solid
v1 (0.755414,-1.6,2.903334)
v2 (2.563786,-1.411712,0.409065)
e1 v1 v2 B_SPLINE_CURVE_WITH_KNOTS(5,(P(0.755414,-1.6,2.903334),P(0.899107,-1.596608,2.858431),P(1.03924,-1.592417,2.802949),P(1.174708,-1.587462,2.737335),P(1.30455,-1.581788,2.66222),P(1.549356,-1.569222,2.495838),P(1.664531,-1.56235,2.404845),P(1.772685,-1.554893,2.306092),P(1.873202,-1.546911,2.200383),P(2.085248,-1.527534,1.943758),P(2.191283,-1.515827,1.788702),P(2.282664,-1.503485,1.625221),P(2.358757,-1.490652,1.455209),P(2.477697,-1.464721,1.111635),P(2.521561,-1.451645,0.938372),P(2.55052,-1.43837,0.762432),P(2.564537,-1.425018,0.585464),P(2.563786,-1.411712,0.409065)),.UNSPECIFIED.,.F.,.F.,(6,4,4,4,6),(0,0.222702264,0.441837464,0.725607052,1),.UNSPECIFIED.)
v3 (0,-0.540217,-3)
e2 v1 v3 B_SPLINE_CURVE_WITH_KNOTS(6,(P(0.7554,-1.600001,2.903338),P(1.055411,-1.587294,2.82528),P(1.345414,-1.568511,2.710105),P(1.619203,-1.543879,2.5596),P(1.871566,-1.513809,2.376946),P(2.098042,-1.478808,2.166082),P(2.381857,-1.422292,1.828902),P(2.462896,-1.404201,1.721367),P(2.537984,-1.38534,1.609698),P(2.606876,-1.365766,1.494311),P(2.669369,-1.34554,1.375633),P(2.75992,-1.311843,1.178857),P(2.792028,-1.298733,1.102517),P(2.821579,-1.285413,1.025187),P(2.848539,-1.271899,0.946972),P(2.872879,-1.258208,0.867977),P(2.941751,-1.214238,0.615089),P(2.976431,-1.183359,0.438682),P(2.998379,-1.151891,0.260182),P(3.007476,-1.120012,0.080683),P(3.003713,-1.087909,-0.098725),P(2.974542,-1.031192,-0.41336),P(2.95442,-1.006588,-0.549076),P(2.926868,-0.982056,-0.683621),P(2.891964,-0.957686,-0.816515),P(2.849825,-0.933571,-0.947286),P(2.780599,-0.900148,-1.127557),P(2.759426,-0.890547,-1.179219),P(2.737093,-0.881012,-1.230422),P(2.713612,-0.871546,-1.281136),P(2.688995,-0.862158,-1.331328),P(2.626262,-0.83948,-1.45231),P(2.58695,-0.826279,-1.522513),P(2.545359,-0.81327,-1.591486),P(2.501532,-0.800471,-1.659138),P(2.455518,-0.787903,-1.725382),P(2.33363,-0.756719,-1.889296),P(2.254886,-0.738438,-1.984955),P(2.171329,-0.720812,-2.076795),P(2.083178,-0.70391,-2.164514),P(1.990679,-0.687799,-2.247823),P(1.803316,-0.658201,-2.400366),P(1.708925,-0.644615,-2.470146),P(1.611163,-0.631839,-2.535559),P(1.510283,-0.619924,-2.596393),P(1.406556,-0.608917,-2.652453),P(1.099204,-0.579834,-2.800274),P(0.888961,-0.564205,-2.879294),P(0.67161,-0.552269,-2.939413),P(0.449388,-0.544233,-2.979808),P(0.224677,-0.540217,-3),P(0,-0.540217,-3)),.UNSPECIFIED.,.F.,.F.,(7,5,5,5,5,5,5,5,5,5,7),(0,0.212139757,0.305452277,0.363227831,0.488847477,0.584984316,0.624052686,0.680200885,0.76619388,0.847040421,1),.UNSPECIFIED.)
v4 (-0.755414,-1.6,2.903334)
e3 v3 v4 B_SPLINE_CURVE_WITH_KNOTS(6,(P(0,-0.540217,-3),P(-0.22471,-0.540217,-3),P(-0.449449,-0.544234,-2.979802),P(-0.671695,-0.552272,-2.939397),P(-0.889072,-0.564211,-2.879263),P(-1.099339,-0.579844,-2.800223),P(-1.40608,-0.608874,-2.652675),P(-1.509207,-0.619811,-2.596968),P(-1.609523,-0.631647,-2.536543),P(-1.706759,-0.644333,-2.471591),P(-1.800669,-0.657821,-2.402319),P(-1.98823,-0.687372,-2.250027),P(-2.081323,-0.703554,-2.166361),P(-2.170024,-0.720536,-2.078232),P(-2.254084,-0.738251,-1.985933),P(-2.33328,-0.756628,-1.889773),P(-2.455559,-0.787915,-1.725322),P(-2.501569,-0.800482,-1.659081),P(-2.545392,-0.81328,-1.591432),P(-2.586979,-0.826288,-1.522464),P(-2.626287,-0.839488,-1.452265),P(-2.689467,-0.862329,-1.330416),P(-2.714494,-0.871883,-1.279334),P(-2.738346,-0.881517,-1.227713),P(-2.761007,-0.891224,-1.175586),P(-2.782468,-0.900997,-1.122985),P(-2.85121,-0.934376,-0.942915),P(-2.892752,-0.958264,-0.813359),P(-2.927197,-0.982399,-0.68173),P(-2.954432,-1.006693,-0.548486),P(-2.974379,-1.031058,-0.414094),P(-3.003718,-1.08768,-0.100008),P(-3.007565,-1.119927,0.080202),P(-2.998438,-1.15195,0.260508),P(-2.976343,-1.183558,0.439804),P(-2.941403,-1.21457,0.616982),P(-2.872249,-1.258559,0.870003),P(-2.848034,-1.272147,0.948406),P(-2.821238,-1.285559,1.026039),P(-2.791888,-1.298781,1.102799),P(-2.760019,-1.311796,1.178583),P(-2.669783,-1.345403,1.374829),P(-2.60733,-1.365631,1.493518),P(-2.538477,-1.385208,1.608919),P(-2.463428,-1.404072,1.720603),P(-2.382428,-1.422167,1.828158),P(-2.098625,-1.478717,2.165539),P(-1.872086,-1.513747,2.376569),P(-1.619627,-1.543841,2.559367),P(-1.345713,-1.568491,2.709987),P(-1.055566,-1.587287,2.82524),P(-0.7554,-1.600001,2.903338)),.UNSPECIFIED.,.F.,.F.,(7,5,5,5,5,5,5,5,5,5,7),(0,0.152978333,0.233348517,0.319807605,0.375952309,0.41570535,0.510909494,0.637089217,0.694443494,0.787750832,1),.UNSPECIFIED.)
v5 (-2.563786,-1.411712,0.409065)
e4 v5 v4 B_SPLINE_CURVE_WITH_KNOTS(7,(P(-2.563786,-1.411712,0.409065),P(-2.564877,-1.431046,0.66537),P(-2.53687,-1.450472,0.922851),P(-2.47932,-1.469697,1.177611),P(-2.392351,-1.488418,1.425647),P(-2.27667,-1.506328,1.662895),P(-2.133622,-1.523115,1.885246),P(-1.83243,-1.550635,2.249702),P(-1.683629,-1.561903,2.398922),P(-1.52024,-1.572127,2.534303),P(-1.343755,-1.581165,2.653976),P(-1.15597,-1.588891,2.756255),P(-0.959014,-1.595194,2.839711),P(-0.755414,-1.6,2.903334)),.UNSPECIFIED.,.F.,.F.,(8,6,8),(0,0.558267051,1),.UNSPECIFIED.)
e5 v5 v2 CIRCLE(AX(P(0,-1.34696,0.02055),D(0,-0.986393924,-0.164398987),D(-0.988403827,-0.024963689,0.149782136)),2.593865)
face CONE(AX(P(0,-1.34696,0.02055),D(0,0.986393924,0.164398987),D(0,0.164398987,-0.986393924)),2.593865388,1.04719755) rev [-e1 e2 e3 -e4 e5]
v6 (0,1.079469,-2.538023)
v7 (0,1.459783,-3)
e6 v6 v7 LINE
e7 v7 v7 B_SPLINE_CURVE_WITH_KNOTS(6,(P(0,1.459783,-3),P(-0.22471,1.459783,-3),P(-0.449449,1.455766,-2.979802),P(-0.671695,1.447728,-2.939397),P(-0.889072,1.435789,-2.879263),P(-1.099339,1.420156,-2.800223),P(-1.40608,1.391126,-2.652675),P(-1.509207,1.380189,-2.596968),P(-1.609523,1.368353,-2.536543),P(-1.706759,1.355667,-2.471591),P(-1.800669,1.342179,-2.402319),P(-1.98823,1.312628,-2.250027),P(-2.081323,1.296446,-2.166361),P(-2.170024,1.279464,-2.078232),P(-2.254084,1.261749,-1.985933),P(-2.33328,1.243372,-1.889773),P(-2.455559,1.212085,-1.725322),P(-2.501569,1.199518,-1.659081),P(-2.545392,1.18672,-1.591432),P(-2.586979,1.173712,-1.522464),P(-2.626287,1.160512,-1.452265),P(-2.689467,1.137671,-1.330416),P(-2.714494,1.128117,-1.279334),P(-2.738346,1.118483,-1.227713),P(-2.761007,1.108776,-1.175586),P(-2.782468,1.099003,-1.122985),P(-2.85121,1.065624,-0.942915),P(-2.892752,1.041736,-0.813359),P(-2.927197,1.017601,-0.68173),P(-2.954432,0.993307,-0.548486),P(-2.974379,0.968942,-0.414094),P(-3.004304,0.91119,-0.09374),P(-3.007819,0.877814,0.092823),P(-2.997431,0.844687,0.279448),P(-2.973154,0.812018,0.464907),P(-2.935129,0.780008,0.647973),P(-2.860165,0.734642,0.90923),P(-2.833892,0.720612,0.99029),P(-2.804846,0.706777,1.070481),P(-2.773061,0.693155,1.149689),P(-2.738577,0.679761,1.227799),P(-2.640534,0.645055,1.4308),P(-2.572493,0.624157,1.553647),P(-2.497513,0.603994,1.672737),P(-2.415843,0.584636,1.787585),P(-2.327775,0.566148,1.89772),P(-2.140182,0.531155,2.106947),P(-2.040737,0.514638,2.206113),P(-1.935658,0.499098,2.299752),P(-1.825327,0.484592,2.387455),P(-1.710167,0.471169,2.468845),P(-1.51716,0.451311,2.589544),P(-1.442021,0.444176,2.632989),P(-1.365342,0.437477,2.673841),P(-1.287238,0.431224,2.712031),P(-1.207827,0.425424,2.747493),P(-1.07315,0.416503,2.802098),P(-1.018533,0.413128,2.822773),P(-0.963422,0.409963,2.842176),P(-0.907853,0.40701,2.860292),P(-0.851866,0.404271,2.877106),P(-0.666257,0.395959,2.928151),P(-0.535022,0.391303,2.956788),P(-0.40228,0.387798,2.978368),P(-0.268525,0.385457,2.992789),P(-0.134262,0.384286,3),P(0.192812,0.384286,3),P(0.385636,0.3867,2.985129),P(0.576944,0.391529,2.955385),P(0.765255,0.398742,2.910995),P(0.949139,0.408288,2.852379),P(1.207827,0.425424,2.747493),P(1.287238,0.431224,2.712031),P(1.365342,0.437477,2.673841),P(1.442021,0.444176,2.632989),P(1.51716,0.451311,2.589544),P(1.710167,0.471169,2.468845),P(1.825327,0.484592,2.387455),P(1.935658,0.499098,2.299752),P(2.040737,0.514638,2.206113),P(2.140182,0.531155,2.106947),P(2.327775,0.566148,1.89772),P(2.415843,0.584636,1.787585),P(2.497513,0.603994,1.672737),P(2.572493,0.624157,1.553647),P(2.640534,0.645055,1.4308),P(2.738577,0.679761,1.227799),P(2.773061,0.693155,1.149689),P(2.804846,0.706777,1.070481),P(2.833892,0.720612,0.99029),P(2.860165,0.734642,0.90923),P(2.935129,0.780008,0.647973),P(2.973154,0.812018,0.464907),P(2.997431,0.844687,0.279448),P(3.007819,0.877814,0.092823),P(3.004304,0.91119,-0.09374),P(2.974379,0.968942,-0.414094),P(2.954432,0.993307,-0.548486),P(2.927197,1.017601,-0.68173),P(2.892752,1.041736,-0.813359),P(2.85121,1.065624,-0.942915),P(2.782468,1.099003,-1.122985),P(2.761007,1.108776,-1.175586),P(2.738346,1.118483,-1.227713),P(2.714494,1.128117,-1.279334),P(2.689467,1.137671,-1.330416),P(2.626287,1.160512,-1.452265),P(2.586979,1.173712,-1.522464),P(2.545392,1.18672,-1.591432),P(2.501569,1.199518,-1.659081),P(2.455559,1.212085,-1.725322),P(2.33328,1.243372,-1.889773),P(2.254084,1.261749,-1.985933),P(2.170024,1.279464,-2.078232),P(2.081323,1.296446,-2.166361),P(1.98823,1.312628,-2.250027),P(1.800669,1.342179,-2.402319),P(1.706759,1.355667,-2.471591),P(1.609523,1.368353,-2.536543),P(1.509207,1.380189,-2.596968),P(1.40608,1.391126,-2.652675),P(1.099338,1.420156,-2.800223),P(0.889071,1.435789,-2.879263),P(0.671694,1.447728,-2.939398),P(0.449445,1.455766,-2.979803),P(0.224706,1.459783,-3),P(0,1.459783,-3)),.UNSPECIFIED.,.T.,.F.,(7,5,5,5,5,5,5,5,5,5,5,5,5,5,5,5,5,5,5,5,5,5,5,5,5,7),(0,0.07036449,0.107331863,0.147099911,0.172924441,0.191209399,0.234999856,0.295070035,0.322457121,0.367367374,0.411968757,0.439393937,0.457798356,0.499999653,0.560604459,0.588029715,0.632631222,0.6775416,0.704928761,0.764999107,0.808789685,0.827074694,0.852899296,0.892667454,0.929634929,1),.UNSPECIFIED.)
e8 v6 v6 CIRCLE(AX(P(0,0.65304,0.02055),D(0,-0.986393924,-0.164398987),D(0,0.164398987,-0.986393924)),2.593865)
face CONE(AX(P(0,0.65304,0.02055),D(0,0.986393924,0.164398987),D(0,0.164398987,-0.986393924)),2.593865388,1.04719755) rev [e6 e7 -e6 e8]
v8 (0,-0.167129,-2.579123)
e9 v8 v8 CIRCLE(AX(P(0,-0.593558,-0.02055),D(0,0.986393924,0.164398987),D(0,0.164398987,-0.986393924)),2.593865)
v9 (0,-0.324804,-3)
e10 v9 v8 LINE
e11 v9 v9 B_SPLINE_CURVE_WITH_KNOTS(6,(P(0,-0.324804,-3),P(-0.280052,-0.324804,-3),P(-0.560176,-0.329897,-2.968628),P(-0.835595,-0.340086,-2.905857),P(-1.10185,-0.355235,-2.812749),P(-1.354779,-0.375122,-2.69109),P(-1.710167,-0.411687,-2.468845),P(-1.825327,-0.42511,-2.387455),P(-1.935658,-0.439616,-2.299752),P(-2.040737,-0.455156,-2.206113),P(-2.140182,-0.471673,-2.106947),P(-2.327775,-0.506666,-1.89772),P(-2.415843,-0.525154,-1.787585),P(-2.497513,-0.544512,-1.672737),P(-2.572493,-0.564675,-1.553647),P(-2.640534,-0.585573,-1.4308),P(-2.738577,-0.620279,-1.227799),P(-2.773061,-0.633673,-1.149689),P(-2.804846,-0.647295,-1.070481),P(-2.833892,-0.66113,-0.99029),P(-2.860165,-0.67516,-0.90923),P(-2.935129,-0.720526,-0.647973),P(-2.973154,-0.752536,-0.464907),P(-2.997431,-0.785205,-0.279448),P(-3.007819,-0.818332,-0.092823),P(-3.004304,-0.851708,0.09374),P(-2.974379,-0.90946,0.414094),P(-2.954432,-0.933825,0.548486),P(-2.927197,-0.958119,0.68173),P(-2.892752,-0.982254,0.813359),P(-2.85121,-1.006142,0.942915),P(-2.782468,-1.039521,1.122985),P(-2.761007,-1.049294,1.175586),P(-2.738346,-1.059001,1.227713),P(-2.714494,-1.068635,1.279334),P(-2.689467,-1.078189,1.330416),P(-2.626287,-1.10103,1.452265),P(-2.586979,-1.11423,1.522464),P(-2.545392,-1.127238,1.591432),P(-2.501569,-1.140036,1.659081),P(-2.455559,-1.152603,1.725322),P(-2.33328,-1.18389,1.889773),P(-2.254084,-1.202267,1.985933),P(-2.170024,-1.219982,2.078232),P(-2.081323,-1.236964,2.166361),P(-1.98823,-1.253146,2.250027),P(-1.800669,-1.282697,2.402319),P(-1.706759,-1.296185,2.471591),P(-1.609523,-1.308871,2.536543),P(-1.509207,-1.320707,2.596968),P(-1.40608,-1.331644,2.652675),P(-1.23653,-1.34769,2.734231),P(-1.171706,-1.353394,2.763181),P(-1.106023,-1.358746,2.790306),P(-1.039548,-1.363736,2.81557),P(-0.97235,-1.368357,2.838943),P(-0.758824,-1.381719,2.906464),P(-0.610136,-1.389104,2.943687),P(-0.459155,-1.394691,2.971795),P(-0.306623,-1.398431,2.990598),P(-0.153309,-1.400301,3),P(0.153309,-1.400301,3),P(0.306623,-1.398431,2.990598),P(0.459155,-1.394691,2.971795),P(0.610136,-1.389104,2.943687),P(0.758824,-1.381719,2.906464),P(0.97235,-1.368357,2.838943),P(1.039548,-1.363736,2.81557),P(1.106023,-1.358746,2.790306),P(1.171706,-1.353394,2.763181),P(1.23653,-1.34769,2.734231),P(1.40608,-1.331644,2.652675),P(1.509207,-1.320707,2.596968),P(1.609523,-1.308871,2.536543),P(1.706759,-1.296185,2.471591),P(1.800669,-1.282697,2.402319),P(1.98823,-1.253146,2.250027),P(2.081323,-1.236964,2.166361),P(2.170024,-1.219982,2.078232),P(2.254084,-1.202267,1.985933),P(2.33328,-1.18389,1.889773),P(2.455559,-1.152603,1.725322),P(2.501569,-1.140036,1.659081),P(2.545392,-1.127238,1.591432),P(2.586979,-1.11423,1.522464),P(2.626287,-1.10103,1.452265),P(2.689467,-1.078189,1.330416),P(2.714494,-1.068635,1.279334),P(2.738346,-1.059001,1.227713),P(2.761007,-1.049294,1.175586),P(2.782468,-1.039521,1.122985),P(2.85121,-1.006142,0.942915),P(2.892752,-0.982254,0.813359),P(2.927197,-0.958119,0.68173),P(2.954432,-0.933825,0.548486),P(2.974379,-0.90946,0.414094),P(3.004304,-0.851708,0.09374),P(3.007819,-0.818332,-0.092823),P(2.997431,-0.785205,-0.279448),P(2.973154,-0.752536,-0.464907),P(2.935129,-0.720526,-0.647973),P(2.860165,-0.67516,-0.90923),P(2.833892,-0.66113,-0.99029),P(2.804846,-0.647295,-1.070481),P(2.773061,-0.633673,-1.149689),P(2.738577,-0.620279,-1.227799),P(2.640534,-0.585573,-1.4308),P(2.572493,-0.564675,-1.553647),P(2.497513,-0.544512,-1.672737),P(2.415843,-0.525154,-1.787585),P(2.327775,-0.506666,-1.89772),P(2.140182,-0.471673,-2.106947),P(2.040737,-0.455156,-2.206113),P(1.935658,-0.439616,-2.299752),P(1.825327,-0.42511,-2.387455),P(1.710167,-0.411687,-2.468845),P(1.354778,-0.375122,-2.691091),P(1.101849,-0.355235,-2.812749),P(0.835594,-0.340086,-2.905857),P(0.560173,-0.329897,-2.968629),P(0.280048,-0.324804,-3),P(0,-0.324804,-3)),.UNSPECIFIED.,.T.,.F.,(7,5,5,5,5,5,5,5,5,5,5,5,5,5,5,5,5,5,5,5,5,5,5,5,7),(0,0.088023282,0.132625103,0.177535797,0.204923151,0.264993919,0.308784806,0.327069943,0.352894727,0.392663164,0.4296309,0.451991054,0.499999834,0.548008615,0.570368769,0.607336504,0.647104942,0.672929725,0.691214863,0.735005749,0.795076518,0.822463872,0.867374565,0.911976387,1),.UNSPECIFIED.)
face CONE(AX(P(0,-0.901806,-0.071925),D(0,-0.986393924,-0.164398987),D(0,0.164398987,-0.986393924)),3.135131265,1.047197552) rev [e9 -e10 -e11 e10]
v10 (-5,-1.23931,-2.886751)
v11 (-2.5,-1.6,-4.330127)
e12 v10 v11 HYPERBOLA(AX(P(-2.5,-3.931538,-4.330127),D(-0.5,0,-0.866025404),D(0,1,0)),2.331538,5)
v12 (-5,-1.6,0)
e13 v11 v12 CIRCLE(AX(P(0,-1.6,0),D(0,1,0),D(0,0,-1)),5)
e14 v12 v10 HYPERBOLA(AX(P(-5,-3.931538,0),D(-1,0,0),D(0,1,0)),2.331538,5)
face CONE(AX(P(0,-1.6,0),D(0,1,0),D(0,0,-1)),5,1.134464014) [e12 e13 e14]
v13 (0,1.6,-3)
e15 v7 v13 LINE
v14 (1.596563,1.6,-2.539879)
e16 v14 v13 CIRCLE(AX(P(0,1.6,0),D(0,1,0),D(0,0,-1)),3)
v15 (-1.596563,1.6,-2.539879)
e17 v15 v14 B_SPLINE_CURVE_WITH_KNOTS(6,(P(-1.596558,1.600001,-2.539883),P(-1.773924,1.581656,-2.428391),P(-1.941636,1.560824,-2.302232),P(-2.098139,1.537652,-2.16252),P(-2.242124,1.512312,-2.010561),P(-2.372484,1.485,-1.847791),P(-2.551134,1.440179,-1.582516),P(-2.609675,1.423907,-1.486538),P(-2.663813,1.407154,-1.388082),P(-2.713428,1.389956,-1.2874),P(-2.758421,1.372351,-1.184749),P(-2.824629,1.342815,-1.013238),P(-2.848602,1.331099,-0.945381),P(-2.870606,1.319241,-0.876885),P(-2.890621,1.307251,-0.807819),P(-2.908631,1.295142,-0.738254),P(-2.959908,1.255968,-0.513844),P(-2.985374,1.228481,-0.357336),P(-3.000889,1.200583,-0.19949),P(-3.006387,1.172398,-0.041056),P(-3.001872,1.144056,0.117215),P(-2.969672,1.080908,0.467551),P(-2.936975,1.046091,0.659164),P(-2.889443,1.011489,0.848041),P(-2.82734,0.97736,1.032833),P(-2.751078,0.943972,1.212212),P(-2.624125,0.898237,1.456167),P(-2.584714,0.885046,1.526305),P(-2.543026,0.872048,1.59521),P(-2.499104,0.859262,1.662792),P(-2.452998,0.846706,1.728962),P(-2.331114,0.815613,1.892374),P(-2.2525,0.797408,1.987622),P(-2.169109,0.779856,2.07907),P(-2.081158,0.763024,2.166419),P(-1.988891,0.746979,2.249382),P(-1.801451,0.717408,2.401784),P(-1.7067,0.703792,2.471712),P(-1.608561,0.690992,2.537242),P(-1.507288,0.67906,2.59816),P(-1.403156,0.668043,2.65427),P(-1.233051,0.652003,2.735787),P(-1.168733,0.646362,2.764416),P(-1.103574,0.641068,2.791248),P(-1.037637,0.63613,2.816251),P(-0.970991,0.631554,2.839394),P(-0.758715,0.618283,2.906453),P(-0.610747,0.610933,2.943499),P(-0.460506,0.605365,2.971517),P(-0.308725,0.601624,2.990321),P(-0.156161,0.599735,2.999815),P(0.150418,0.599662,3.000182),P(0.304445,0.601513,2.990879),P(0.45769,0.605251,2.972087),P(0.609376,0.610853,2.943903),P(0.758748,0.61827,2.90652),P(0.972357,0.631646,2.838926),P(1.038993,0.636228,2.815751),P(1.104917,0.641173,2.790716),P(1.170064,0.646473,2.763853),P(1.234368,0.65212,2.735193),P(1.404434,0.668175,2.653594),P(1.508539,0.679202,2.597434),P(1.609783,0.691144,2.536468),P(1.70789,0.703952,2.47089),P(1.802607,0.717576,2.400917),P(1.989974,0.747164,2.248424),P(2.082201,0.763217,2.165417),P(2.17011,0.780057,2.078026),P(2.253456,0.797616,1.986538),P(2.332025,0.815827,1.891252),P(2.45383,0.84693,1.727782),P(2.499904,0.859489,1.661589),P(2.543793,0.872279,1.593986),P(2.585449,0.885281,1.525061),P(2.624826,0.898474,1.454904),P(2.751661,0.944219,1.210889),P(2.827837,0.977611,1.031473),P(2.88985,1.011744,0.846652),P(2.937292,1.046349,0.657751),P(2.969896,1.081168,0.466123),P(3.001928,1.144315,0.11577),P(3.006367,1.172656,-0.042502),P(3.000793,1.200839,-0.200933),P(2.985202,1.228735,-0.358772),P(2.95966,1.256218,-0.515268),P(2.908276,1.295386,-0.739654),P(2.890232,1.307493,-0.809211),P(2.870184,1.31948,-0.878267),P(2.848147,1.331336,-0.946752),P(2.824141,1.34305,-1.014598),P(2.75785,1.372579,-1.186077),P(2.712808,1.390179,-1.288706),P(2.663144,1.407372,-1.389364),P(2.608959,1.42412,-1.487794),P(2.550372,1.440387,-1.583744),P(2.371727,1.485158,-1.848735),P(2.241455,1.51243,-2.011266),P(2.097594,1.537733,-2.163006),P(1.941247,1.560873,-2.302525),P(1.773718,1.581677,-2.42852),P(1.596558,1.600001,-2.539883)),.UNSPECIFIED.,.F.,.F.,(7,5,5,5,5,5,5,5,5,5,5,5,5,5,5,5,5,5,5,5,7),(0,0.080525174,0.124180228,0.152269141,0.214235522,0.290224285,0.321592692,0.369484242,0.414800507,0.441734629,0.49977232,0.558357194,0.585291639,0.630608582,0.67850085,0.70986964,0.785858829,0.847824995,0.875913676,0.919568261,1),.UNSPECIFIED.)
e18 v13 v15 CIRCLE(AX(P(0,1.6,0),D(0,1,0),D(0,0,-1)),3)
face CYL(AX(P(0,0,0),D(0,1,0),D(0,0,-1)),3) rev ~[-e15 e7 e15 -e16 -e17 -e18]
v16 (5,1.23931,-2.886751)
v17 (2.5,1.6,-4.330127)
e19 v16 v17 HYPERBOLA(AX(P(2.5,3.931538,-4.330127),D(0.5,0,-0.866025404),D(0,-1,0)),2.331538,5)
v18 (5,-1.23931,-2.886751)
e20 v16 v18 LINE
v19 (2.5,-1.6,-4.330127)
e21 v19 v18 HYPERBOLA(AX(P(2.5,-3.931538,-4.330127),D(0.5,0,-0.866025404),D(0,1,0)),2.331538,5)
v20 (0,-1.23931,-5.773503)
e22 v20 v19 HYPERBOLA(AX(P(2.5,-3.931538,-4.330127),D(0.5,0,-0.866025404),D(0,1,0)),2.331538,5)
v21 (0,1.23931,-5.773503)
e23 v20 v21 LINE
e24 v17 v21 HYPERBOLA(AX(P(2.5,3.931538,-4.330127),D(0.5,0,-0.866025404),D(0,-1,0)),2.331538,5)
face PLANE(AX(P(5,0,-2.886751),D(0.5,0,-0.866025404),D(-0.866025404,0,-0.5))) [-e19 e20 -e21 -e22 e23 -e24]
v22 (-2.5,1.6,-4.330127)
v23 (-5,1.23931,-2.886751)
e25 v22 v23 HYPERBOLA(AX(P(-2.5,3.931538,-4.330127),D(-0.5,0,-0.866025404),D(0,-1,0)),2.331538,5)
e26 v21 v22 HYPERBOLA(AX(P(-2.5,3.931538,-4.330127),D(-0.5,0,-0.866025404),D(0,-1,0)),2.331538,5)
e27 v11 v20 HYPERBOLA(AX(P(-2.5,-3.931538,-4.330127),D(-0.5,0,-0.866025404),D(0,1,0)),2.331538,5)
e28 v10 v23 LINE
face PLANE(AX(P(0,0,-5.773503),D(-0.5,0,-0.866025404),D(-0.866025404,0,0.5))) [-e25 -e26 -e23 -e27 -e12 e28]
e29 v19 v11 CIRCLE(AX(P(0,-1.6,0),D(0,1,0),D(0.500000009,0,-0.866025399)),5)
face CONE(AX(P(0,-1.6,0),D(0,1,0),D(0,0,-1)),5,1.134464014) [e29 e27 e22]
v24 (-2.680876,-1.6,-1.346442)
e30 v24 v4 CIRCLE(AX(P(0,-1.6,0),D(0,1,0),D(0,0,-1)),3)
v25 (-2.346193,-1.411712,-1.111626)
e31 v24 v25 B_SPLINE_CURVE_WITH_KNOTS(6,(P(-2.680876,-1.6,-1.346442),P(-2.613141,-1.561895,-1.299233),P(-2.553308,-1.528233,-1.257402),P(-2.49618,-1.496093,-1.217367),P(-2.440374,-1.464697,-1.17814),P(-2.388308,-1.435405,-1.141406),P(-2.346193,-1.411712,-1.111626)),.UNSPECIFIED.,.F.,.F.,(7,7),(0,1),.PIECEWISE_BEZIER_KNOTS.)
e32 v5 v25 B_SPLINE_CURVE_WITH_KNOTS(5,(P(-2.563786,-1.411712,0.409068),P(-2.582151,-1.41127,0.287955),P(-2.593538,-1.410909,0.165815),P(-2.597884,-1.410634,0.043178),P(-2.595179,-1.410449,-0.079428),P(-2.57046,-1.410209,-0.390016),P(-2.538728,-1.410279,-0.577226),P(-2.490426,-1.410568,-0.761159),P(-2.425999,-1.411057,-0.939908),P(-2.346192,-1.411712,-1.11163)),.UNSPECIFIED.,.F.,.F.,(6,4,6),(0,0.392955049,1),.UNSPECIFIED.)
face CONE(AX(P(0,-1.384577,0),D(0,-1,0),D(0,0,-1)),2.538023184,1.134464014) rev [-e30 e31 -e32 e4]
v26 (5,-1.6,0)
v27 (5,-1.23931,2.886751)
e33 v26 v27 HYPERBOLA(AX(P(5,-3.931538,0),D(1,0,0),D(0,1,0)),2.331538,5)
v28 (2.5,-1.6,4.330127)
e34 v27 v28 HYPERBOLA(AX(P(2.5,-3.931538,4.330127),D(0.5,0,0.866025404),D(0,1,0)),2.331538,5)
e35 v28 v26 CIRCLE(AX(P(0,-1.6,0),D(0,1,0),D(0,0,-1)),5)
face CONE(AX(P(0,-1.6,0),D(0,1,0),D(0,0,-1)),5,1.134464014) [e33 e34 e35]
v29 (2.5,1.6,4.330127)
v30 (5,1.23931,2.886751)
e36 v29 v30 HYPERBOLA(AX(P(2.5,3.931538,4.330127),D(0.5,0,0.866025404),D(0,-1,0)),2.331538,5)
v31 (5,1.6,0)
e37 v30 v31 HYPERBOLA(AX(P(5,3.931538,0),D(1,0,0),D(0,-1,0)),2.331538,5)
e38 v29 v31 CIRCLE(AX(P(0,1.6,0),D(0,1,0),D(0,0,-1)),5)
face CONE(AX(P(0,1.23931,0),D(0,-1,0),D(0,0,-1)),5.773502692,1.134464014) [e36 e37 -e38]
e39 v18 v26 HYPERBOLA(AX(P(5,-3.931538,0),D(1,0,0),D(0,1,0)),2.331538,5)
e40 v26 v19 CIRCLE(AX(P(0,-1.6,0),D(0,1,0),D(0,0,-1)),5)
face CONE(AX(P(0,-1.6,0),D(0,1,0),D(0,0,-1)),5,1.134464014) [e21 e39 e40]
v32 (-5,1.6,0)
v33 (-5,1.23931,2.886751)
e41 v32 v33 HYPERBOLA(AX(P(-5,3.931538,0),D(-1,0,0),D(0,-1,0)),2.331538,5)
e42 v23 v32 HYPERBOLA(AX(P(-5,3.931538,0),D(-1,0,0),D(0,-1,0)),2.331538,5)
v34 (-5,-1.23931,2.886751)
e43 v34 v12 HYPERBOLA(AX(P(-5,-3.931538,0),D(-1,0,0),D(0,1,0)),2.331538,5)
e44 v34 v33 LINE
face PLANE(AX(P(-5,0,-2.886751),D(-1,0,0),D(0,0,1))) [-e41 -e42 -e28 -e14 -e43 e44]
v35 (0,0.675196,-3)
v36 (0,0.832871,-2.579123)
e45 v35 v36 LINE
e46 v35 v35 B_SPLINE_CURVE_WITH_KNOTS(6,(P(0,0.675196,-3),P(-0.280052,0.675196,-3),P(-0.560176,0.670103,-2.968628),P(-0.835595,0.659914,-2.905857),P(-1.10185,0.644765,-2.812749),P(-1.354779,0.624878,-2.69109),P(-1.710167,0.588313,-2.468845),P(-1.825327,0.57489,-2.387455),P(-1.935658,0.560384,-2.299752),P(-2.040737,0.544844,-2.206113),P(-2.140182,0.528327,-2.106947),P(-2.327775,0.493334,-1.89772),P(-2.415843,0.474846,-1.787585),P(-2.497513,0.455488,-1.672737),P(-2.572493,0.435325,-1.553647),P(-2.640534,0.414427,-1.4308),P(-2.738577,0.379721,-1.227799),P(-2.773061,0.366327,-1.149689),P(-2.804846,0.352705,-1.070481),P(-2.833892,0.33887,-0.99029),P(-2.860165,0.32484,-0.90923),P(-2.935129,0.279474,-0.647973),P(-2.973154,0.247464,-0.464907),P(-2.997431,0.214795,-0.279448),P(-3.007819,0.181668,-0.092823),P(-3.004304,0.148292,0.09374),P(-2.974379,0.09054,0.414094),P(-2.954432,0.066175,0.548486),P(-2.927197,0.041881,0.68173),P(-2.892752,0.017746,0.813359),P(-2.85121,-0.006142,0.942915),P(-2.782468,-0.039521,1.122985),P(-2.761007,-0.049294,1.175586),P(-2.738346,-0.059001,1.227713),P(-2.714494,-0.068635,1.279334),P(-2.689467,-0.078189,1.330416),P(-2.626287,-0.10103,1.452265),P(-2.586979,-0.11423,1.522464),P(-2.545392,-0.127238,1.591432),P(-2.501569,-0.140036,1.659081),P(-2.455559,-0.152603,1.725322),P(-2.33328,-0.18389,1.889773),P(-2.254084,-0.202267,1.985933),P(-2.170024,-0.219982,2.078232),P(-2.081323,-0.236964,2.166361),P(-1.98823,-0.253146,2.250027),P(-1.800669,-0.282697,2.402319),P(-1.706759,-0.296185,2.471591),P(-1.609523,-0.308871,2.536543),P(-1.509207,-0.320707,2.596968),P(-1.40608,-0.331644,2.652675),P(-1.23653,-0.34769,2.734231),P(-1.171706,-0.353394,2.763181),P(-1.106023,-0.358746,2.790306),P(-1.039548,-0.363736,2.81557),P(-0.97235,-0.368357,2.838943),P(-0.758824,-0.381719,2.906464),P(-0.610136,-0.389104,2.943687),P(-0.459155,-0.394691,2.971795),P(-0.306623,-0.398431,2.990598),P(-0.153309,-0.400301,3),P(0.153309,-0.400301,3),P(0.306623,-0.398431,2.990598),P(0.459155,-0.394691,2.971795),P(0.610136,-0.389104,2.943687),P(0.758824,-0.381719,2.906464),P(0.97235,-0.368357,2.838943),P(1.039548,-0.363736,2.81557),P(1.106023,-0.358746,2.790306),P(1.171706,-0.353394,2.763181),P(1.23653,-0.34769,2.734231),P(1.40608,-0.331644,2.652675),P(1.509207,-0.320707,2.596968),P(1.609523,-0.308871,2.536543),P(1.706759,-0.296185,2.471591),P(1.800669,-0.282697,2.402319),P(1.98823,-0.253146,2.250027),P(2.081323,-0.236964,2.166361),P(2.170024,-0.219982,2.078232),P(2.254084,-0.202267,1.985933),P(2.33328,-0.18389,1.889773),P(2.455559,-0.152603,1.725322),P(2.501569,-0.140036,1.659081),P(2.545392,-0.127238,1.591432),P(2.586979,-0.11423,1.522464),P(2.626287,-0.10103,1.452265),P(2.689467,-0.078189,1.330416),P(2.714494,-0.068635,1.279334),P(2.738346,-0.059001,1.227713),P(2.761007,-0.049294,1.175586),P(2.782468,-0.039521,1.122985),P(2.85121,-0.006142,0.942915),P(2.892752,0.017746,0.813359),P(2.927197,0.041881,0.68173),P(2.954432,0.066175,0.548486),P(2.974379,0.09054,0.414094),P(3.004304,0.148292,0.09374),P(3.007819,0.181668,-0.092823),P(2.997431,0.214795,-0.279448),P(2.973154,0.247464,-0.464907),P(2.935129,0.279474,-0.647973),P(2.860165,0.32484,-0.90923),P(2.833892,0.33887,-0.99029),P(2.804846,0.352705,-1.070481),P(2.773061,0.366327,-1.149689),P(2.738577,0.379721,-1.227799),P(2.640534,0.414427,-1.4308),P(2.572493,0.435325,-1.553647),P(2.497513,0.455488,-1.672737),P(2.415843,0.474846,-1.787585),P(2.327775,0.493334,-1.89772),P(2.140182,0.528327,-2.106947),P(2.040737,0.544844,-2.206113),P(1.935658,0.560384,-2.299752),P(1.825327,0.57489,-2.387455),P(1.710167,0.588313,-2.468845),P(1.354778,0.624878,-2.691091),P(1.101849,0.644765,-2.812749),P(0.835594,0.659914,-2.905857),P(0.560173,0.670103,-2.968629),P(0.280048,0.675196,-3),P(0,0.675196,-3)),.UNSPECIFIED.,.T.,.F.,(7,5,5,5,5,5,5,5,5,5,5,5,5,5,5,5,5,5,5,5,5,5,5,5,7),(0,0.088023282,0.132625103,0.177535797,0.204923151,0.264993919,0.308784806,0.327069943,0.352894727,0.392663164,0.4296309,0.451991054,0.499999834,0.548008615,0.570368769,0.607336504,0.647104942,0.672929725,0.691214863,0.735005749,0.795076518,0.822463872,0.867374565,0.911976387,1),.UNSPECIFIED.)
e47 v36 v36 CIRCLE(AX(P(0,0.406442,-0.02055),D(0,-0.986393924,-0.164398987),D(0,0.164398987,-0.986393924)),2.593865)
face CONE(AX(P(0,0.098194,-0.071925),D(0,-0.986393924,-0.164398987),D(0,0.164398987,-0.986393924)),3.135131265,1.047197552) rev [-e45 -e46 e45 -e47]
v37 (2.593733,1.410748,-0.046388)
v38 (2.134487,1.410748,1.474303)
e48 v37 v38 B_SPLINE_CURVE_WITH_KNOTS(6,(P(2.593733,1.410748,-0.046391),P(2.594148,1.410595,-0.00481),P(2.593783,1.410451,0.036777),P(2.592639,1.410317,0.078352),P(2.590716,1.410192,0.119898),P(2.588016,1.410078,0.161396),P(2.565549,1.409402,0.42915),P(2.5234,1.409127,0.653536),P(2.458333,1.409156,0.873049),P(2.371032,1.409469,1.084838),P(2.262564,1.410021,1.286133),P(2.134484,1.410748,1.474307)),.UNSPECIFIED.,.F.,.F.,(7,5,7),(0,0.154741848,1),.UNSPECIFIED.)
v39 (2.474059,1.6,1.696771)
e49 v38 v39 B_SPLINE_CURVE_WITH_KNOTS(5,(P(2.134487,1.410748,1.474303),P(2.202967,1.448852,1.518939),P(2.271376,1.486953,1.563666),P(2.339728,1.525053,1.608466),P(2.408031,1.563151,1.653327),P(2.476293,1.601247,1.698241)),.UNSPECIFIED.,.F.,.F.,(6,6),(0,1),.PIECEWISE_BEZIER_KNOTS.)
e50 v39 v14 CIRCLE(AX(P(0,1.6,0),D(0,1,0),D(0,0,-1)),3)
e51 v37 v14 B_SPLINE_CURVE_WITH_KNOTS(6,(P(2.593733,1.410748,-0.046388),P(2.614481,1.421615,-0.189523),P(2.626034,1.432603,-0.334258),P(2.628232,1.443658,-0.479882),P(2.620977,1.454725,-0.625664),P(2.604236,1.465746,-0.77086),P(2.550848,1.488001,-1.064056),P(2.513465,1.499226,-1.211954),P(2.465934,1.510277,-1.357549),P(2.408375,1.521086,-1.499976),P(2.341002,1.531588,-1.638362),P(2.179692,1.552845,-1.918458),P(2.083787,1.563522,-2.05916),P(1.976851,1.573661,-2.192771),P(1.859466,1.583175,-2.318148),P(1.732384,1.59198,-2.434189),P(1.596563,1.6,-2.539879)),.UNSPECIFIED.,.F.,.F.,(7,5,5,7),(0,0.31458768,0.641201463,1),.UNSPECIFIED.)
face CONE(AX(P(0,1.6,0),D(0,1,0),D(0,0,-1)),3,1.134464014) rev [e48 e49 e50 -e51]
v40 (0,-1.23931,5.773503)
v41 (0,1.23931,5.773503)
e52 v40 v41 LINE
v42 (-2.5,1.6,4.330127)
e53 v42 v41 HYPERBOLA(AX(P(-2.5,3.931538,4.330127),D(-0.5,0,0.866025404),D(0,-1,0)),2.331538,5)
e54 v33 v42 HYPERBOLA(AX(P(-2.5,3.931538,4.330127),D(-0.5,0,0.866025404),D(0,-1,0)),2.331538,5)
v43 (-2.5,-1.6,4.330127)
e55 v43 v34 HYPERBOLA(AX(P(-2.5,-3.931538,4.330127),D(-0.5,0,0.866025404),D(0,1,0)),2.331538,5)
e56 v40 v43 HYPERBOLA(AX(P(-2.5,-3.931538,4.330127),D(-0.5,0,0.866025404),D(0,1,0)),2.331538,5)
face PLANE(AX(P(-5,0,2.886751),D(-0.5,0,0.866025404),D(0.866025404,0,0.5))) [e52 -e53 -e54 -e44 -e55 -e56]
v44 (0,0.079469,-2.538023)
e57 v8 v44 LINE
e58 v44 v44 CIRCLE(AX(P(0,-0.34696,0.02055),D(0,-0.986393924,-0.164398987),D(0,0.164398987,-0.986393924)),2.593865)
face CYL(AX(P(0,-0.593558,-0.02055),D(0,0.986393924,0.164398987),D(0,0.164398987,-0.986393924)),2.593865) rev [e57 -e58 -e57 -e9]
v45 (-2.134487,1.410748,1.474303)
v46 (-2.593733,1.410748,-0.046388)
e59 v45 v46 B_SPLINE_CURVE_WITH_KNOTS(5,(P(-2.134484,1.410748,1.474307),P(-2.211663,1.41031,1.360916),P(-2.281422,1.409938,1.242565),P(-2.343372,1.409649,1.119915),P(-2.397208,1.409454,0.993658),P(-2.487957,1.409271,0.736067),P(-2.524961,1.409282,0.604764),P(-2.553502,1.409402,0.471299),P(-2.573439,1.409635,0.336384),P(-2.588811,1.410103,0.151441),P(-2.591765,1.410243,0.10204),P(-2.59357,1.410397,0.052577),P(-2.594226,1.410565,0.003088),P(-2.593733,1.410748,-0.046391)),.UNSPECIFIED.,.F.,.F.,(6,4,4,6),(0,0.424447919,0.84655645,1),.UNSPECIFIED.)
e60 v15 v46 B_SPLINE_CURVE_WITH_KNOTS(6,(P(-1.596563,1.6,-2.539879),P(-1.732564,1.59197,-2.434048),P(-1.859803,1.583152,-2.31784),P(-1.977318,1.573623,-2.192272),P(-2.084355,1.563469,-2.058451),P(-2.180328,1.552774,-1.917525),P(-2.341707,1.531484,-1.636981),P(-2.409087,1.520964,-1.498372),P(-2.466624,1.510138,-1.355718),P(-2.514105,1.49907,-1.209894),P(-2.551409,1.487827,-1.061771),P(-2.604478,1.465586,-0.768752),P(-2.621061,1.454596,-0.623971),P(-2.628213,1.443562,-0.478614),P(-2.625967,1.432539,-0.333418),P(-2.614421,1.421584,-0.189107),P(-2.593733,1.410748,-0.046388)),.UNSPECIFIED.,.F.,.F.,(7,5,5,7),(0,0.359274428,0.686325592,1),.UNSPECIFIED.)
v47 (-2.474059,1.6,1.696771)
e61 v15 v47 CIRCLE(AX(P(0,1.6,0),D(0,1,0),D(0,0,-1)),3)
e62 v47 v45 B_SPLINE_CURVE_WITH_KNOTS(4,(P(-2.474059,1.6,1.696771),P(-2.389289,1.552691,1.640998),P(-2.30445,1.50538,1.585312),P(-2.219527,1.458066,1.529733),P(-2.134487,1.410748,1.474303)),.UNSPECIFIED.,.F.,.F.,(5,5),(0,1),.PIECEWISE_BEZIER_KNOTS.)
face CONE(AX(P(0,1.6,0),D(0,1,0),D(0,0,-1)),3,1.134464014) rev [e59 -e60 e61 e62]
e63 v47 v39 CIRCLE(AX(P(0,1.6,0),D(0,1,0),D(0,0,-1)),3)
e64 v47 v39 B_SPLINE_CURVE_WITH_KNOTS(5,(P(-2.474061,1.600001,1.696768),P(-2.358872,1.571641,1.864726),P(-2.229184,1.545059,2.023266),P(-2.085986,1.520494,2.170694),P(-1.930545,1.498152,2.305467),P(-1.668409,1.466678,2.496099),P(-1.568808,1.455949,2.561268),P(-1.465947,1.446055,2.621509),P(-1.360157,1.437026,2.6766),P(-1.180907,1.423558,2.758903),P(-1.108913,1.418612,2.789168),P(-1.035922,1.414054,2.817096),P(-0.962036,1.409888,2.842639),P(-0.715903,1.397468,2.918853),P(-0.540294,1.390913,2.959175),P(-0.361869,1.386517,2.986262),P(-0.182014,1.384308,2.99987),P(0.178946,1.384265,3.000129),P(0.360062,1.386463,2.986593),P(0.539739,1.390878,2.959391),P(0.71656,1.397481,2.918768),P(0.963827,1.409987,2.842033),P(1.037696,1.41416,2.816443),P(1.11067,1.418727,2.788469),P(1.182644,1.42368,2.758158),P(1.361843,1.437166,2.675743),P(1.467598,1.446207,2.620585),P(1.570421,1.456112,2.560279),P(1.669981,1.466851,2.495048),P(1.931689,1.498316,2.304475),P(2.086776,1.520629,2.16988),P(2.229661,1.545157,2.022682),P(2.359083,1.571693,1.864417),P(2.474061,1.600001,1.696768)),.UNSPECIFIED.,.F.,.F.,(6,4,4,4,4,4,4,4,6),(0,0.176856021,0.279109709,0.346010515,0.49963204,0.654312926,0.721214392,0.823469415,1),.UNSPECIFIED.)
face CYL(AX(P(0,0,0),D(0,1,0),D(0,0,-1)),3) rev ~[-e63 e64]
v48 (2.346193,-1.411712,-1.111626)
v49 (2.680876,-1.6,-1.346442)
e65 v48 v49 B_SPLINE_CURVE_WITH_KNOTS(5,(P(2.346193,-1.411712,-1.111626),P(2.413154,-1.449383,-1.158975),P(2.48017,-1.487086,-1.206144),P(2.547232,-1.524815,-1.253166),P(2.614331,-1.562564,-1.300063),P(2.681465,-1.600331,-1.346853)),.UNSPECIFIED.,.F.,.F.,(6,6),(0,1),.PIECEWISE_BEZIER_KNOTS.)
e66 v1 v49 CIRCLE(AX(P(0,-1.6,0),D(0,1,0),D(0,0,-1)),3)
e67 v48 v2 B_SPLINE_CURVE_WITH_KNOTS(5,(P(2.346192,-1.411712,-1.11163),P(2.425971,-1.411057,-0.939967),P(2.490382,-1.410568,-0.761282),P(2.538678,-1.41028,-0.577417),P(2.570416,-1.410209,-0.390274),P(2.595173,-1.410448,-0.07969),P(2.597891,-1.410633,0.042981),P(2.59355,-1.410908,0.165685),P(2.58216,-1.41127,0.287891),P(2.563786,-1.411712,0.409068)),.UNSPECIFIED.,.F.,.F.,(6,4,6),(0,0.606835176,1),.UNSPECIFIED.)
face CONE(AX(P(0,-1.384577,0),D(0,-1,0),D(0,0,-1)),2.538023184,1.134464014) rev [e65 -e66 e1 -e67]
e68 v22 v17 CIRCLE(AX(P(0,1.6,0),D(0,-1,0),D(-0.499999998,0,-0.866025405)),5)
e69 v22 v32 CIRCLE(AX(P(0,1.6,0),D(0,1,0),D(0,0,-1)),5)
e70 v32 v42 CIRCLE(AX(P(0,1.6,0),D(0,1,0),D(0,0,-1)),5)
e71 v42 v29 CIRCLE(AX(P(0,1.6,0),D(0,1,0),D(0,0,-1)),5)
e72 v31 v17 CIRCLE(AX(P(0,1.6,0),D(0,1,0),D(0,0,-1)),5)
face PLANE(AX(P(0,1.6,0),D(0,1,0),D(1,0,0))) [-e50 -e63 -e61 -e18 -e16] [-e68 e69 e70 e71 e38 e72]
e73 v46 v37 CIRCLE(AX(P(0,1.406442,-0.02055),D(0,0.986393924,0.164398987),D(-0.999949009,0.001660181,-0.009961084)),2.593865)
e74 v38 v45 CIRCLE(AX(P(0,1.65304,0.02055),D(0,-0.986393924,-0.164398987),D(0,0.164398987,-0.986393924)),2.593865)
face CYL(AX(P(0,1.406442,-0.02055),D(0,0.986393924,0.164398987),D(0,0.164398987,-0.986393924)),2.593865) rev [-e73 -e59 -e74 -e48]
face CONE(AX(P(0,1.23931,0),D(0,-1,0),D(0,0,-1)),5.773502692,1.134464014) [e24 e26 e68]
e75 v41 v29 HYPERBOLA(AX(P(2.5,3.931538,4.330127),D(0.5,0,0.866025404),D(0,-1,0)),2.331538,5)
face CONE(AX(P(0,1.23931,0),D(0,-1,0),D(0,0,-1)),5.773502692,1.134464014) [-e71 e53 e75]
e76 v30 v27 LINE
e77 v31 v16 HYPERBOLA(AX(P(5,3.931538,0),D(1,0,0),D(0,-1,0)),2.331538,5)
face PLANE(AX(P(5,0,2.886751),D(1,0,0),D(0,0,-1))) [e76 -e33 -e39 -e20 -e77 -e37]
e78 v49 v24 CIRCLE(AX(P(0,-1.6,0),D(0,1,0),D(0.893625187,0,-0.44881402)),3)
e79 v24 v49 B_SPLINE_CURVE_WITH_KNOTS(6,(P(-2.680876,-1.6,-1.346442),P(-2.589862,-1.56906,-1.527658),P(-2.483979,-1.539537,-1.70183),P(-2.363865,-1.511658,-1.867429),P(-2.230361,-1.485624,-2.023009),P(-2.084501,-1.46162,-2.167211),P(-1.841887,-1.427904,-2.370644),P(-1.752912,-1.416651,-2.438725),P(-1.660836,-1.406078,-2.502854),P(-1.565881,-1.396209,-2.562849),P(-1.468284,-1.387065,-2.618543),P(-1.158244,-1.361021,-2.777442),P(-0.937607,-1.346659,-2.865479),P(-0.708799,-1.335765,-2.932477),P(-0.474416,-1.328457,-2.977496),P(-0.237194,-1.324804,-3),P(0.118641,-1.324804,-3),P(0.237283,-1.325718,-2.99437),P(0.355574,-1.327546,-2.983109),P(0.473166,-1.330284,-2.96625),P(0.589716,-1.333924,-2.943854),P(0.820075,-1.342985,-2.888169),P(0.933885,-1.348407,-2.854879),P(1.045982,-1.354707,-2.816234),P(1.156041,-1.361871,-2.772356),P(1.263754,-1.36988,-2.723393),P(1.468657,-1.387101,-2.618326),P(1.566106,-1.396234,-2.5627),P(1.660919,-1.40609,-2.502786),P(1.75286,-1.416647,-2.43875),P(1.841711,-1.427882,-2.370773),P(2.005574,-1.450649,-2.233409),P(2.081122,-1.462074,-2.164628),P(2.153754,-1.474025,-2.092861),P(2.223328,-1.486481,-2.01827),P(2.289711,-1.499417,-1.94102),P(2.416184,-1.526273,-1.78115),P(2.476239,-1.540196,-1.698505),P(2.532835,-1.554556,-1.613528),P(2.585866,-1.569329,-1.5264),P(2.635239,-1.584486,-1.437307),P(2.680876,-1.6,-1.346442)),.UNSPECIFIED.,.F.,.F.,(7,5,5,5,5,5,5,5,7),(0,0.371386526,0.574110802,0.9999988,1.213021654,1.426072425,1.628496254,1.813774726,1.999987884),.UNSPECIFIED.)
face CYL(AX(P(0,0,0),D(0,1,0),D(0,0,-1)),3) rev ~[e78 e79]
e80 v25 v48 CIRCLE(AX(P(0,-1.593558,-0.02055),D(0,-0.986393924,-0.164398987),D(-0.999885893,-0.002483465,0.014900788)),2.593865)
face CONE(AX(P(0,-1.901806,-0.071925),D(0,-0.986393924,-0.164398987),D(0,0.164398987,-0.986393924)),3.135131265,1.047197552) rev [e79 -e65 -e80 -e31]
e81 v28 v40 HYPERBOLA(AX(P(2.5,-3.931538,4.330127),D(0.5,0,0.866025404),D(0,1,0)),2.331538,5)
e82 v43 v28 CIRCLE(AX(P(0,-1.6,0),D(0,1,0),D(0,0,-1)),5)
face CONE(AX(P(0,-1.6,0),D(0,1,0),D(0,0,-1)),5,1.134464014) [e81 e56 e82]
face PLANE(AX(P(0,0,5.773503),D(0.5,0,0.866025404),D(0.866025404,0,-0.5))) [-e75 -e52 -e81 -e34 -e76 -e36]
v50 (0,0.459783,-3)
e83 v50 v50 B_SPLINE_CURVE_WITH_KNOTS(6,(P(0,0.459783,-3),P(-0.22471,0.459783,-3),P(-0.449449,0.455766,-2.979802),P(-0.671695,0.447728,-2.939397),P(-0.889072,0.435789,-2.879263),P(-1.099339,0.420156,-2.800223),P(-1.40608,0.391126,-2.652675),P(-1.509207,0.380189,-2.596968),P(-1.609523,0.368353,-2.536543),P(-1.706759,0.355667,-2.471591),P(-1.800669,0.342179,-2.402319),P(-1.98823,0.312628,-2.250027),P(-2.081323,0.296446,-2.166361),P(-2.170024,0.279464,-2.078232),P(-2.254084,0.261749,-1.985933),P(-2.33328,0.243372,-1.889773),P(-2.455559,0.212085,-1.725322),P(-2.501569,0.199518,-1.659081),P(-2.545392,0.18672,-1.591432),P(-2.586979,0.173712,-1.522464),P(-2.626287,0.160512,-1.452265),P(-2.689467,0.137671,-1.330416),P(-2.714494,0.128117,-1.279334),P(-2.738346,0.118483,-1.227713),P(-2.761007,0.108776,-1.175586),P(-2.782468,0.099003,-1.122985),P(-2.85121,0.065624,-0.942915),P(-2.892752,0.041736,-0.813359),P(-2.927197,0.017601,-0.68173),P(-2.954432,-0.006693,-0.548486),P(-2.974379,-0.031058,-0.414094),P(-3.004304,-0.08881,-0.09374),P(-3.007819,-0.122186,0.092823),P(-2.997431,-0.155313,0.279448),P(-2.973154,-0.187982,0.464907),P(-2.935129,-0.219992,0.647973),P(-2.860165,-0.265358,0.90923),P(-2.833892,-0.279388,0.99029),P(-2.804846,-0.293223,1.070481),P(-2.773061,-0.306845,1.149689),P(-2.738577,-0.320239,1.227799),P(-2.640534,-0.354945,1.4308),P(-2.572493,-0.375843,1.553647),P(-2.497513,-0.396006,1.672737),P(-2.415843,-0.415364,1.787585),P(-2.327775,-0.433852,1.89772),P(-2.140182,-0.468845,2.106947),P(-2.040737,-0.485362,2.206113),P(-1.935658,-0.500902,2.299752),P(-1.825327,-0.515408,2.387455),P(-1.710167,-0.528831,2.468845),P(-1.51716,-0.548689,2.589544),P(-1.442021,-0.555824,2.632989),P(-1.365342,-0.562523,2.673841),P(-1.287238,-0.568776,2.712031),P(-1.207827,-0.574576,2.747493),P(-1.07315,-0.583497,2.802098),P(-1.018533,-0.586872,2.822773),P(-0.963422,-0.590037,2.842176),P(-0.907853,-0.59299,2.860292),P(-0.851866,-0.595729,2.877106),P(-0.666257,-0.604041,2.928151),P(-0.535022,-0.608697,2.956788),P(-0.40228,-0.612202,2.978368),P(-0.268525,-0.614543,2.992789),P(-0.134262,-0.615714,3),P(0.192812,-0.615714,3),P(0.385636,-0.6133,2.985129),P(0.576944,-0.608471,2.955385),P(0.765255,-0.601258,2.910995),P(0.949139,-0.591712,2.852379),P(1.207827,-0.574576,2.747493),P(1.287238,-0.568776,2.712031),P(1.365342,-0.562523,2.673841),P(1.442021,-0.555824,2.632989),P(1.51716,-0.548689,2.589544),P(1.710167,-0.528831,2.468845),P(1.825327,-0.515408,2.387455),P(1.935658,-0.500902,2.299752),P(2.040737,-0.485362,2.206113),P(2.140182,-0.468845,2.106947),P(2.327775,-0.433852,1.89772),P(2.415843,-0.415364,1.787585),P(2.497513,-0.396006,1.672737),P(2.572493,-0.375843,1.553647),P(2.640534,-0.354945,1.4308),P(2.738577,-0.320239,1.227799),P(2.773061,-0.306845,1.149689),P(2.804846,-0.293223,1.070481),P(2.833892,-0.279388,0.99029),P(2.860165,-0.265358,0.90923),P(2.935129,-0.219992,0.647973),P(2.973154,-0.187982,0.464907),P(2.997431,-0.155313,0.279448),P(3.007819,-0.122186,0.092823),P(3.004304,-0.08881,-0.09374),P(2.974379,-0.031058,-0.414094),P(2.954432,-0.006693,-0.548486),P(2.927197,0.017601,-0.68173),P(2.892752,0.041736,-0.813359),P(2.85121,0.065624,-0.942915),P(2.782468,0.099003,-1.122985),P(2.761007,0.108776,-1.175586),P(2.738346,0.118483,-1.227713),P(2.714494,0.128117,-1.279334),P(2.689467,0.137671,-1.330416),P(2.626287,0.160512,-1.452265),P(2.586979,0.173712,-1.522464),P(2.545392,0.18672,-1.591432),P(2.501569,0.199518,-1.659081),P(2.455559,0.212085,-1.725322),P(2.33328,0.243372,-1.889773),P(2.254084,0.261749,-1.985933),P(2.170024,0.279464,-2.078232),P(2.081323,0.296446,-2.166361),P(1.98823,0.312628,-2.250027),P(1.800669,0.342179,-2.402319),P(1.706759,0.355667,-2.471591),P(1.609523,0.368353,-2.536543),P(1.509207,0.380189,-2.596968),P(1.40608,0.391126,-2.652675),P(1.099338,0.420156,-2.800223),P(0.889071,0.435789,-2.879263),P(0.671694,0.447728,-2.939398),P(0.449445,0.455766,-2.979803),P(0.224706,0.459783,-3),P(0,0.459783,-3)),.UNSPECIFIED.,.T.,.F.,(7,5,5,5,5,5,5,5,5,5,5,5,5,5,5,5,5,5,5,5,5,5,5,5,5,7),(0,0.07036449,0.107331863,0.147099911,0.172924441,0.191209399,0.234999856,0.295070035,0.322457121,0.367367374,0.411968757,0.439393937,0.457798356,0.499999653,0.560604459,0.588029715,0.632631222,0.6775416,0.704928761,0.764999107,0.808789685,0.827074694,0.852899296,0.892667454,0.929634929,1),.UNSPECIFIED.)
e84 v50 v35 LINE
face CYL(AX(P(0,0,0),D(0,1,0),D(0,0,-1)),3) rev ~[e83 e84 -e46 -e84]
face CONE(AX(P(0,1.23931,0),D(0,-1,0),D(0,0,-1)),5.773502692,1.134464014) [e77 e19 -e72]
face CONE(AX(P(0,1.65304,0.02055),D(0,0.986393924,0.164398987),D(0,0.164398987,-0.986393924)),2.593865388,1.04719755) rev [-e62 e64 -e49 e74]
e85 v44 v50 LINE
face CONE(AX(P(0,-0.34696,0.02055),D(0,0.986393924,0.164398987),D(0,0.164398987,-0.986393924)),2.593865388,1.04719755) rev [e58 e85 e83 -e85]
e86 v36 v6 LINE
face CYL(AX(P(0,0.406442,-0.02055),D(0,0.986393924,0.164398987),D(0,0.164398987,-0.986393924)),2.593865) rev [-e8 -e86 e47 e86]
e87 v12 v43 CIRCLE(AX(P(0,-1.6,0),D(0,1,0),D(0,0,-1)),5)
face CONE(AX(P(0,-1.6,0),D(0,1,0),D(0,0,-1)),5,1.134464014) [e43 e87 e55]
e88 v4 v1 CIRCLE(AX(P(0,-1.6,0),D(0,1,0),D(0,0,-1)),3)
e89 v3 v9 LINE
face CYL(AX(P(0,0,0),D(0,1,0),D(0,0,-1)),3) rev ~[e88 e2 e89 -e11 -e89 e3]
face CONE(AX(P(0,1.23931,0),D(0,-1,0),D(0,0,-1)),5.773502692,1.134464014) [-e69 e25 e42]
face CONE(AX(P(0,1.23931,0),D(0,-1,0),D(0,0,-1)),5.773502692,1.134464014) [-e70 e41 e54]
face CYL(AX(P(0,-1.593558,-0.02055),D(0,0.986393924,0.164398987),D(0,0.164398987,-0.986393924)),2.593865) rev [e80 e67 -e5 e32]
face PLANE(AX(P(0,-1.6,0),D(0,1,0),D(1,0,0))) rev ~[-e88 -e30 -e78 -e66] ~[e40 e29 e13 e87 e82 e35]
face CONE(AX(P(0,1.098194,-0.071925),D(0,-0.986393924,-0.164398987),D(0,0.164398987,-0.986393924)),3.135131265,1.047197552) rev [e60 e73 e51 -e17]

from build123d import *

# Parameters (mm, degrees)
EXTRUDE1_DEPTH      = 1.6
SKETCH2_W           = 3
SKETCH2_H           = 3.2
LPATTERN1_COUNT     = 3
LPATTERN1_PITCH     = 1
LPATTERN1_COL_COUNT = 2
LPATTERN1_COL_PITCH = 1


with BuildPart() as part:
    # Sketch1 → Extrude1 (new body, symmetric)
    with BuildSketch(Plane(origin=(0, 0, 0), x_dir=(1, 0, 0), z_dir=(0, 1, 0))):
        Polygon((0, 5.773502692), (-5, 2.886751346), (-5, -2.886751346), (0, -5.773502692), (5, -2.886751346), (5, 2.886751346), align=None)
    extrude(amount=EXTRUDE1_DEPTH, both=True)

    # Sketch4 → Cut-Revolve2 (revolve, cut)
    with BuildSketch(Plane(origin=(0, 0, 0), x_dir=(0, 0, -1), z_dir=(1, 0, 0))):
        Polygon((0, 1.6), (3, 1.6), (2.538023184, 1.384576673), (2.538023184, -1.384576673), (3, -1.6), (0, -1.6), align=None)
    revolve(axis=Axis((0, 1.6, 0), (0, 1, 0)), mode=Mode.SUBTRACT)


with BuildPart() as body_2:
    # Sketch2 → Revolve1 (revolve)
    with BuildSketch(Plane(origin=(0, 0, 0), x_dir=(0, 0, -1), z_dir=(1, 0, 0))):
        with Locations((1.5, 0)):
            Rectangle(SKETCH2_W, SKETCH2_H)
    revolve(axis=Axis((0, -4.6, 0), (0, 1, 0)))

    # Sketch3 → Cut-Revolve1 (revolve, cut)
    with BuildSketch(Plane(origin=(0, 0, 0), x_dir=(0, 0, -1), z_dir=(1, 0, 0))):
        Polygon((3.020549873, 1.47670076), (3.164398987, 0.613606076), (2.579122931, 0.832870615), (2.538023184, 1.079469096), align=None)
    cut_revolve1 = revolve(axis=Axis((0, 1.6, 0.178376498), (0, -0.986393924, -0.164398987)), mode=Mode.SUBTRACT)

    # LPattern1: Cut-Revolve1 ×3
    with Locations(*[(0, -i * LPATTERN1_PITCH, 0) for i in range(1, LPATTERN1_COUNT)]):
        add(cut_revolve1, mode=Mode.SUBTRACT)

    # LPattern1 col: Cut-Revolve1 ×2
    with Locations(*[(0, i * LPATTERN1_COL_PITCH, 0) for i in range(1, LPATTERN1_COL_COUNT)]):
        add(cut_revolve1, mode=Mode.SUBTRACT)


with BuildPart() as part_1:
    add(part.part)

    # Combine1: cut body 2
    add(body_2.part, mode=Mode.SUBTRACT)

    # Sketch5 → Cut-Revolve3 (revolve, cut)
    with BuildSketch(Plane(origin=(0, 0, 0), x_dir=(0, 0, -1), z_dir=(1, 0, 0))):
        Polygon((0, -1.6), (5, -1.6), (5.773502692, -1.239309771), (5.773502692, 1.239309771), (5, 1.6), (0, 1.6), (0, 2.87), (7.043502692, 2.87), (7.043502692, -2.87), (0, -2.87), align=None)
    revolve(axis=Axis((0, -1.6, 0), (0, 1, 0)), mode=Mode.SUBTRACT)


solid = part_1.part
